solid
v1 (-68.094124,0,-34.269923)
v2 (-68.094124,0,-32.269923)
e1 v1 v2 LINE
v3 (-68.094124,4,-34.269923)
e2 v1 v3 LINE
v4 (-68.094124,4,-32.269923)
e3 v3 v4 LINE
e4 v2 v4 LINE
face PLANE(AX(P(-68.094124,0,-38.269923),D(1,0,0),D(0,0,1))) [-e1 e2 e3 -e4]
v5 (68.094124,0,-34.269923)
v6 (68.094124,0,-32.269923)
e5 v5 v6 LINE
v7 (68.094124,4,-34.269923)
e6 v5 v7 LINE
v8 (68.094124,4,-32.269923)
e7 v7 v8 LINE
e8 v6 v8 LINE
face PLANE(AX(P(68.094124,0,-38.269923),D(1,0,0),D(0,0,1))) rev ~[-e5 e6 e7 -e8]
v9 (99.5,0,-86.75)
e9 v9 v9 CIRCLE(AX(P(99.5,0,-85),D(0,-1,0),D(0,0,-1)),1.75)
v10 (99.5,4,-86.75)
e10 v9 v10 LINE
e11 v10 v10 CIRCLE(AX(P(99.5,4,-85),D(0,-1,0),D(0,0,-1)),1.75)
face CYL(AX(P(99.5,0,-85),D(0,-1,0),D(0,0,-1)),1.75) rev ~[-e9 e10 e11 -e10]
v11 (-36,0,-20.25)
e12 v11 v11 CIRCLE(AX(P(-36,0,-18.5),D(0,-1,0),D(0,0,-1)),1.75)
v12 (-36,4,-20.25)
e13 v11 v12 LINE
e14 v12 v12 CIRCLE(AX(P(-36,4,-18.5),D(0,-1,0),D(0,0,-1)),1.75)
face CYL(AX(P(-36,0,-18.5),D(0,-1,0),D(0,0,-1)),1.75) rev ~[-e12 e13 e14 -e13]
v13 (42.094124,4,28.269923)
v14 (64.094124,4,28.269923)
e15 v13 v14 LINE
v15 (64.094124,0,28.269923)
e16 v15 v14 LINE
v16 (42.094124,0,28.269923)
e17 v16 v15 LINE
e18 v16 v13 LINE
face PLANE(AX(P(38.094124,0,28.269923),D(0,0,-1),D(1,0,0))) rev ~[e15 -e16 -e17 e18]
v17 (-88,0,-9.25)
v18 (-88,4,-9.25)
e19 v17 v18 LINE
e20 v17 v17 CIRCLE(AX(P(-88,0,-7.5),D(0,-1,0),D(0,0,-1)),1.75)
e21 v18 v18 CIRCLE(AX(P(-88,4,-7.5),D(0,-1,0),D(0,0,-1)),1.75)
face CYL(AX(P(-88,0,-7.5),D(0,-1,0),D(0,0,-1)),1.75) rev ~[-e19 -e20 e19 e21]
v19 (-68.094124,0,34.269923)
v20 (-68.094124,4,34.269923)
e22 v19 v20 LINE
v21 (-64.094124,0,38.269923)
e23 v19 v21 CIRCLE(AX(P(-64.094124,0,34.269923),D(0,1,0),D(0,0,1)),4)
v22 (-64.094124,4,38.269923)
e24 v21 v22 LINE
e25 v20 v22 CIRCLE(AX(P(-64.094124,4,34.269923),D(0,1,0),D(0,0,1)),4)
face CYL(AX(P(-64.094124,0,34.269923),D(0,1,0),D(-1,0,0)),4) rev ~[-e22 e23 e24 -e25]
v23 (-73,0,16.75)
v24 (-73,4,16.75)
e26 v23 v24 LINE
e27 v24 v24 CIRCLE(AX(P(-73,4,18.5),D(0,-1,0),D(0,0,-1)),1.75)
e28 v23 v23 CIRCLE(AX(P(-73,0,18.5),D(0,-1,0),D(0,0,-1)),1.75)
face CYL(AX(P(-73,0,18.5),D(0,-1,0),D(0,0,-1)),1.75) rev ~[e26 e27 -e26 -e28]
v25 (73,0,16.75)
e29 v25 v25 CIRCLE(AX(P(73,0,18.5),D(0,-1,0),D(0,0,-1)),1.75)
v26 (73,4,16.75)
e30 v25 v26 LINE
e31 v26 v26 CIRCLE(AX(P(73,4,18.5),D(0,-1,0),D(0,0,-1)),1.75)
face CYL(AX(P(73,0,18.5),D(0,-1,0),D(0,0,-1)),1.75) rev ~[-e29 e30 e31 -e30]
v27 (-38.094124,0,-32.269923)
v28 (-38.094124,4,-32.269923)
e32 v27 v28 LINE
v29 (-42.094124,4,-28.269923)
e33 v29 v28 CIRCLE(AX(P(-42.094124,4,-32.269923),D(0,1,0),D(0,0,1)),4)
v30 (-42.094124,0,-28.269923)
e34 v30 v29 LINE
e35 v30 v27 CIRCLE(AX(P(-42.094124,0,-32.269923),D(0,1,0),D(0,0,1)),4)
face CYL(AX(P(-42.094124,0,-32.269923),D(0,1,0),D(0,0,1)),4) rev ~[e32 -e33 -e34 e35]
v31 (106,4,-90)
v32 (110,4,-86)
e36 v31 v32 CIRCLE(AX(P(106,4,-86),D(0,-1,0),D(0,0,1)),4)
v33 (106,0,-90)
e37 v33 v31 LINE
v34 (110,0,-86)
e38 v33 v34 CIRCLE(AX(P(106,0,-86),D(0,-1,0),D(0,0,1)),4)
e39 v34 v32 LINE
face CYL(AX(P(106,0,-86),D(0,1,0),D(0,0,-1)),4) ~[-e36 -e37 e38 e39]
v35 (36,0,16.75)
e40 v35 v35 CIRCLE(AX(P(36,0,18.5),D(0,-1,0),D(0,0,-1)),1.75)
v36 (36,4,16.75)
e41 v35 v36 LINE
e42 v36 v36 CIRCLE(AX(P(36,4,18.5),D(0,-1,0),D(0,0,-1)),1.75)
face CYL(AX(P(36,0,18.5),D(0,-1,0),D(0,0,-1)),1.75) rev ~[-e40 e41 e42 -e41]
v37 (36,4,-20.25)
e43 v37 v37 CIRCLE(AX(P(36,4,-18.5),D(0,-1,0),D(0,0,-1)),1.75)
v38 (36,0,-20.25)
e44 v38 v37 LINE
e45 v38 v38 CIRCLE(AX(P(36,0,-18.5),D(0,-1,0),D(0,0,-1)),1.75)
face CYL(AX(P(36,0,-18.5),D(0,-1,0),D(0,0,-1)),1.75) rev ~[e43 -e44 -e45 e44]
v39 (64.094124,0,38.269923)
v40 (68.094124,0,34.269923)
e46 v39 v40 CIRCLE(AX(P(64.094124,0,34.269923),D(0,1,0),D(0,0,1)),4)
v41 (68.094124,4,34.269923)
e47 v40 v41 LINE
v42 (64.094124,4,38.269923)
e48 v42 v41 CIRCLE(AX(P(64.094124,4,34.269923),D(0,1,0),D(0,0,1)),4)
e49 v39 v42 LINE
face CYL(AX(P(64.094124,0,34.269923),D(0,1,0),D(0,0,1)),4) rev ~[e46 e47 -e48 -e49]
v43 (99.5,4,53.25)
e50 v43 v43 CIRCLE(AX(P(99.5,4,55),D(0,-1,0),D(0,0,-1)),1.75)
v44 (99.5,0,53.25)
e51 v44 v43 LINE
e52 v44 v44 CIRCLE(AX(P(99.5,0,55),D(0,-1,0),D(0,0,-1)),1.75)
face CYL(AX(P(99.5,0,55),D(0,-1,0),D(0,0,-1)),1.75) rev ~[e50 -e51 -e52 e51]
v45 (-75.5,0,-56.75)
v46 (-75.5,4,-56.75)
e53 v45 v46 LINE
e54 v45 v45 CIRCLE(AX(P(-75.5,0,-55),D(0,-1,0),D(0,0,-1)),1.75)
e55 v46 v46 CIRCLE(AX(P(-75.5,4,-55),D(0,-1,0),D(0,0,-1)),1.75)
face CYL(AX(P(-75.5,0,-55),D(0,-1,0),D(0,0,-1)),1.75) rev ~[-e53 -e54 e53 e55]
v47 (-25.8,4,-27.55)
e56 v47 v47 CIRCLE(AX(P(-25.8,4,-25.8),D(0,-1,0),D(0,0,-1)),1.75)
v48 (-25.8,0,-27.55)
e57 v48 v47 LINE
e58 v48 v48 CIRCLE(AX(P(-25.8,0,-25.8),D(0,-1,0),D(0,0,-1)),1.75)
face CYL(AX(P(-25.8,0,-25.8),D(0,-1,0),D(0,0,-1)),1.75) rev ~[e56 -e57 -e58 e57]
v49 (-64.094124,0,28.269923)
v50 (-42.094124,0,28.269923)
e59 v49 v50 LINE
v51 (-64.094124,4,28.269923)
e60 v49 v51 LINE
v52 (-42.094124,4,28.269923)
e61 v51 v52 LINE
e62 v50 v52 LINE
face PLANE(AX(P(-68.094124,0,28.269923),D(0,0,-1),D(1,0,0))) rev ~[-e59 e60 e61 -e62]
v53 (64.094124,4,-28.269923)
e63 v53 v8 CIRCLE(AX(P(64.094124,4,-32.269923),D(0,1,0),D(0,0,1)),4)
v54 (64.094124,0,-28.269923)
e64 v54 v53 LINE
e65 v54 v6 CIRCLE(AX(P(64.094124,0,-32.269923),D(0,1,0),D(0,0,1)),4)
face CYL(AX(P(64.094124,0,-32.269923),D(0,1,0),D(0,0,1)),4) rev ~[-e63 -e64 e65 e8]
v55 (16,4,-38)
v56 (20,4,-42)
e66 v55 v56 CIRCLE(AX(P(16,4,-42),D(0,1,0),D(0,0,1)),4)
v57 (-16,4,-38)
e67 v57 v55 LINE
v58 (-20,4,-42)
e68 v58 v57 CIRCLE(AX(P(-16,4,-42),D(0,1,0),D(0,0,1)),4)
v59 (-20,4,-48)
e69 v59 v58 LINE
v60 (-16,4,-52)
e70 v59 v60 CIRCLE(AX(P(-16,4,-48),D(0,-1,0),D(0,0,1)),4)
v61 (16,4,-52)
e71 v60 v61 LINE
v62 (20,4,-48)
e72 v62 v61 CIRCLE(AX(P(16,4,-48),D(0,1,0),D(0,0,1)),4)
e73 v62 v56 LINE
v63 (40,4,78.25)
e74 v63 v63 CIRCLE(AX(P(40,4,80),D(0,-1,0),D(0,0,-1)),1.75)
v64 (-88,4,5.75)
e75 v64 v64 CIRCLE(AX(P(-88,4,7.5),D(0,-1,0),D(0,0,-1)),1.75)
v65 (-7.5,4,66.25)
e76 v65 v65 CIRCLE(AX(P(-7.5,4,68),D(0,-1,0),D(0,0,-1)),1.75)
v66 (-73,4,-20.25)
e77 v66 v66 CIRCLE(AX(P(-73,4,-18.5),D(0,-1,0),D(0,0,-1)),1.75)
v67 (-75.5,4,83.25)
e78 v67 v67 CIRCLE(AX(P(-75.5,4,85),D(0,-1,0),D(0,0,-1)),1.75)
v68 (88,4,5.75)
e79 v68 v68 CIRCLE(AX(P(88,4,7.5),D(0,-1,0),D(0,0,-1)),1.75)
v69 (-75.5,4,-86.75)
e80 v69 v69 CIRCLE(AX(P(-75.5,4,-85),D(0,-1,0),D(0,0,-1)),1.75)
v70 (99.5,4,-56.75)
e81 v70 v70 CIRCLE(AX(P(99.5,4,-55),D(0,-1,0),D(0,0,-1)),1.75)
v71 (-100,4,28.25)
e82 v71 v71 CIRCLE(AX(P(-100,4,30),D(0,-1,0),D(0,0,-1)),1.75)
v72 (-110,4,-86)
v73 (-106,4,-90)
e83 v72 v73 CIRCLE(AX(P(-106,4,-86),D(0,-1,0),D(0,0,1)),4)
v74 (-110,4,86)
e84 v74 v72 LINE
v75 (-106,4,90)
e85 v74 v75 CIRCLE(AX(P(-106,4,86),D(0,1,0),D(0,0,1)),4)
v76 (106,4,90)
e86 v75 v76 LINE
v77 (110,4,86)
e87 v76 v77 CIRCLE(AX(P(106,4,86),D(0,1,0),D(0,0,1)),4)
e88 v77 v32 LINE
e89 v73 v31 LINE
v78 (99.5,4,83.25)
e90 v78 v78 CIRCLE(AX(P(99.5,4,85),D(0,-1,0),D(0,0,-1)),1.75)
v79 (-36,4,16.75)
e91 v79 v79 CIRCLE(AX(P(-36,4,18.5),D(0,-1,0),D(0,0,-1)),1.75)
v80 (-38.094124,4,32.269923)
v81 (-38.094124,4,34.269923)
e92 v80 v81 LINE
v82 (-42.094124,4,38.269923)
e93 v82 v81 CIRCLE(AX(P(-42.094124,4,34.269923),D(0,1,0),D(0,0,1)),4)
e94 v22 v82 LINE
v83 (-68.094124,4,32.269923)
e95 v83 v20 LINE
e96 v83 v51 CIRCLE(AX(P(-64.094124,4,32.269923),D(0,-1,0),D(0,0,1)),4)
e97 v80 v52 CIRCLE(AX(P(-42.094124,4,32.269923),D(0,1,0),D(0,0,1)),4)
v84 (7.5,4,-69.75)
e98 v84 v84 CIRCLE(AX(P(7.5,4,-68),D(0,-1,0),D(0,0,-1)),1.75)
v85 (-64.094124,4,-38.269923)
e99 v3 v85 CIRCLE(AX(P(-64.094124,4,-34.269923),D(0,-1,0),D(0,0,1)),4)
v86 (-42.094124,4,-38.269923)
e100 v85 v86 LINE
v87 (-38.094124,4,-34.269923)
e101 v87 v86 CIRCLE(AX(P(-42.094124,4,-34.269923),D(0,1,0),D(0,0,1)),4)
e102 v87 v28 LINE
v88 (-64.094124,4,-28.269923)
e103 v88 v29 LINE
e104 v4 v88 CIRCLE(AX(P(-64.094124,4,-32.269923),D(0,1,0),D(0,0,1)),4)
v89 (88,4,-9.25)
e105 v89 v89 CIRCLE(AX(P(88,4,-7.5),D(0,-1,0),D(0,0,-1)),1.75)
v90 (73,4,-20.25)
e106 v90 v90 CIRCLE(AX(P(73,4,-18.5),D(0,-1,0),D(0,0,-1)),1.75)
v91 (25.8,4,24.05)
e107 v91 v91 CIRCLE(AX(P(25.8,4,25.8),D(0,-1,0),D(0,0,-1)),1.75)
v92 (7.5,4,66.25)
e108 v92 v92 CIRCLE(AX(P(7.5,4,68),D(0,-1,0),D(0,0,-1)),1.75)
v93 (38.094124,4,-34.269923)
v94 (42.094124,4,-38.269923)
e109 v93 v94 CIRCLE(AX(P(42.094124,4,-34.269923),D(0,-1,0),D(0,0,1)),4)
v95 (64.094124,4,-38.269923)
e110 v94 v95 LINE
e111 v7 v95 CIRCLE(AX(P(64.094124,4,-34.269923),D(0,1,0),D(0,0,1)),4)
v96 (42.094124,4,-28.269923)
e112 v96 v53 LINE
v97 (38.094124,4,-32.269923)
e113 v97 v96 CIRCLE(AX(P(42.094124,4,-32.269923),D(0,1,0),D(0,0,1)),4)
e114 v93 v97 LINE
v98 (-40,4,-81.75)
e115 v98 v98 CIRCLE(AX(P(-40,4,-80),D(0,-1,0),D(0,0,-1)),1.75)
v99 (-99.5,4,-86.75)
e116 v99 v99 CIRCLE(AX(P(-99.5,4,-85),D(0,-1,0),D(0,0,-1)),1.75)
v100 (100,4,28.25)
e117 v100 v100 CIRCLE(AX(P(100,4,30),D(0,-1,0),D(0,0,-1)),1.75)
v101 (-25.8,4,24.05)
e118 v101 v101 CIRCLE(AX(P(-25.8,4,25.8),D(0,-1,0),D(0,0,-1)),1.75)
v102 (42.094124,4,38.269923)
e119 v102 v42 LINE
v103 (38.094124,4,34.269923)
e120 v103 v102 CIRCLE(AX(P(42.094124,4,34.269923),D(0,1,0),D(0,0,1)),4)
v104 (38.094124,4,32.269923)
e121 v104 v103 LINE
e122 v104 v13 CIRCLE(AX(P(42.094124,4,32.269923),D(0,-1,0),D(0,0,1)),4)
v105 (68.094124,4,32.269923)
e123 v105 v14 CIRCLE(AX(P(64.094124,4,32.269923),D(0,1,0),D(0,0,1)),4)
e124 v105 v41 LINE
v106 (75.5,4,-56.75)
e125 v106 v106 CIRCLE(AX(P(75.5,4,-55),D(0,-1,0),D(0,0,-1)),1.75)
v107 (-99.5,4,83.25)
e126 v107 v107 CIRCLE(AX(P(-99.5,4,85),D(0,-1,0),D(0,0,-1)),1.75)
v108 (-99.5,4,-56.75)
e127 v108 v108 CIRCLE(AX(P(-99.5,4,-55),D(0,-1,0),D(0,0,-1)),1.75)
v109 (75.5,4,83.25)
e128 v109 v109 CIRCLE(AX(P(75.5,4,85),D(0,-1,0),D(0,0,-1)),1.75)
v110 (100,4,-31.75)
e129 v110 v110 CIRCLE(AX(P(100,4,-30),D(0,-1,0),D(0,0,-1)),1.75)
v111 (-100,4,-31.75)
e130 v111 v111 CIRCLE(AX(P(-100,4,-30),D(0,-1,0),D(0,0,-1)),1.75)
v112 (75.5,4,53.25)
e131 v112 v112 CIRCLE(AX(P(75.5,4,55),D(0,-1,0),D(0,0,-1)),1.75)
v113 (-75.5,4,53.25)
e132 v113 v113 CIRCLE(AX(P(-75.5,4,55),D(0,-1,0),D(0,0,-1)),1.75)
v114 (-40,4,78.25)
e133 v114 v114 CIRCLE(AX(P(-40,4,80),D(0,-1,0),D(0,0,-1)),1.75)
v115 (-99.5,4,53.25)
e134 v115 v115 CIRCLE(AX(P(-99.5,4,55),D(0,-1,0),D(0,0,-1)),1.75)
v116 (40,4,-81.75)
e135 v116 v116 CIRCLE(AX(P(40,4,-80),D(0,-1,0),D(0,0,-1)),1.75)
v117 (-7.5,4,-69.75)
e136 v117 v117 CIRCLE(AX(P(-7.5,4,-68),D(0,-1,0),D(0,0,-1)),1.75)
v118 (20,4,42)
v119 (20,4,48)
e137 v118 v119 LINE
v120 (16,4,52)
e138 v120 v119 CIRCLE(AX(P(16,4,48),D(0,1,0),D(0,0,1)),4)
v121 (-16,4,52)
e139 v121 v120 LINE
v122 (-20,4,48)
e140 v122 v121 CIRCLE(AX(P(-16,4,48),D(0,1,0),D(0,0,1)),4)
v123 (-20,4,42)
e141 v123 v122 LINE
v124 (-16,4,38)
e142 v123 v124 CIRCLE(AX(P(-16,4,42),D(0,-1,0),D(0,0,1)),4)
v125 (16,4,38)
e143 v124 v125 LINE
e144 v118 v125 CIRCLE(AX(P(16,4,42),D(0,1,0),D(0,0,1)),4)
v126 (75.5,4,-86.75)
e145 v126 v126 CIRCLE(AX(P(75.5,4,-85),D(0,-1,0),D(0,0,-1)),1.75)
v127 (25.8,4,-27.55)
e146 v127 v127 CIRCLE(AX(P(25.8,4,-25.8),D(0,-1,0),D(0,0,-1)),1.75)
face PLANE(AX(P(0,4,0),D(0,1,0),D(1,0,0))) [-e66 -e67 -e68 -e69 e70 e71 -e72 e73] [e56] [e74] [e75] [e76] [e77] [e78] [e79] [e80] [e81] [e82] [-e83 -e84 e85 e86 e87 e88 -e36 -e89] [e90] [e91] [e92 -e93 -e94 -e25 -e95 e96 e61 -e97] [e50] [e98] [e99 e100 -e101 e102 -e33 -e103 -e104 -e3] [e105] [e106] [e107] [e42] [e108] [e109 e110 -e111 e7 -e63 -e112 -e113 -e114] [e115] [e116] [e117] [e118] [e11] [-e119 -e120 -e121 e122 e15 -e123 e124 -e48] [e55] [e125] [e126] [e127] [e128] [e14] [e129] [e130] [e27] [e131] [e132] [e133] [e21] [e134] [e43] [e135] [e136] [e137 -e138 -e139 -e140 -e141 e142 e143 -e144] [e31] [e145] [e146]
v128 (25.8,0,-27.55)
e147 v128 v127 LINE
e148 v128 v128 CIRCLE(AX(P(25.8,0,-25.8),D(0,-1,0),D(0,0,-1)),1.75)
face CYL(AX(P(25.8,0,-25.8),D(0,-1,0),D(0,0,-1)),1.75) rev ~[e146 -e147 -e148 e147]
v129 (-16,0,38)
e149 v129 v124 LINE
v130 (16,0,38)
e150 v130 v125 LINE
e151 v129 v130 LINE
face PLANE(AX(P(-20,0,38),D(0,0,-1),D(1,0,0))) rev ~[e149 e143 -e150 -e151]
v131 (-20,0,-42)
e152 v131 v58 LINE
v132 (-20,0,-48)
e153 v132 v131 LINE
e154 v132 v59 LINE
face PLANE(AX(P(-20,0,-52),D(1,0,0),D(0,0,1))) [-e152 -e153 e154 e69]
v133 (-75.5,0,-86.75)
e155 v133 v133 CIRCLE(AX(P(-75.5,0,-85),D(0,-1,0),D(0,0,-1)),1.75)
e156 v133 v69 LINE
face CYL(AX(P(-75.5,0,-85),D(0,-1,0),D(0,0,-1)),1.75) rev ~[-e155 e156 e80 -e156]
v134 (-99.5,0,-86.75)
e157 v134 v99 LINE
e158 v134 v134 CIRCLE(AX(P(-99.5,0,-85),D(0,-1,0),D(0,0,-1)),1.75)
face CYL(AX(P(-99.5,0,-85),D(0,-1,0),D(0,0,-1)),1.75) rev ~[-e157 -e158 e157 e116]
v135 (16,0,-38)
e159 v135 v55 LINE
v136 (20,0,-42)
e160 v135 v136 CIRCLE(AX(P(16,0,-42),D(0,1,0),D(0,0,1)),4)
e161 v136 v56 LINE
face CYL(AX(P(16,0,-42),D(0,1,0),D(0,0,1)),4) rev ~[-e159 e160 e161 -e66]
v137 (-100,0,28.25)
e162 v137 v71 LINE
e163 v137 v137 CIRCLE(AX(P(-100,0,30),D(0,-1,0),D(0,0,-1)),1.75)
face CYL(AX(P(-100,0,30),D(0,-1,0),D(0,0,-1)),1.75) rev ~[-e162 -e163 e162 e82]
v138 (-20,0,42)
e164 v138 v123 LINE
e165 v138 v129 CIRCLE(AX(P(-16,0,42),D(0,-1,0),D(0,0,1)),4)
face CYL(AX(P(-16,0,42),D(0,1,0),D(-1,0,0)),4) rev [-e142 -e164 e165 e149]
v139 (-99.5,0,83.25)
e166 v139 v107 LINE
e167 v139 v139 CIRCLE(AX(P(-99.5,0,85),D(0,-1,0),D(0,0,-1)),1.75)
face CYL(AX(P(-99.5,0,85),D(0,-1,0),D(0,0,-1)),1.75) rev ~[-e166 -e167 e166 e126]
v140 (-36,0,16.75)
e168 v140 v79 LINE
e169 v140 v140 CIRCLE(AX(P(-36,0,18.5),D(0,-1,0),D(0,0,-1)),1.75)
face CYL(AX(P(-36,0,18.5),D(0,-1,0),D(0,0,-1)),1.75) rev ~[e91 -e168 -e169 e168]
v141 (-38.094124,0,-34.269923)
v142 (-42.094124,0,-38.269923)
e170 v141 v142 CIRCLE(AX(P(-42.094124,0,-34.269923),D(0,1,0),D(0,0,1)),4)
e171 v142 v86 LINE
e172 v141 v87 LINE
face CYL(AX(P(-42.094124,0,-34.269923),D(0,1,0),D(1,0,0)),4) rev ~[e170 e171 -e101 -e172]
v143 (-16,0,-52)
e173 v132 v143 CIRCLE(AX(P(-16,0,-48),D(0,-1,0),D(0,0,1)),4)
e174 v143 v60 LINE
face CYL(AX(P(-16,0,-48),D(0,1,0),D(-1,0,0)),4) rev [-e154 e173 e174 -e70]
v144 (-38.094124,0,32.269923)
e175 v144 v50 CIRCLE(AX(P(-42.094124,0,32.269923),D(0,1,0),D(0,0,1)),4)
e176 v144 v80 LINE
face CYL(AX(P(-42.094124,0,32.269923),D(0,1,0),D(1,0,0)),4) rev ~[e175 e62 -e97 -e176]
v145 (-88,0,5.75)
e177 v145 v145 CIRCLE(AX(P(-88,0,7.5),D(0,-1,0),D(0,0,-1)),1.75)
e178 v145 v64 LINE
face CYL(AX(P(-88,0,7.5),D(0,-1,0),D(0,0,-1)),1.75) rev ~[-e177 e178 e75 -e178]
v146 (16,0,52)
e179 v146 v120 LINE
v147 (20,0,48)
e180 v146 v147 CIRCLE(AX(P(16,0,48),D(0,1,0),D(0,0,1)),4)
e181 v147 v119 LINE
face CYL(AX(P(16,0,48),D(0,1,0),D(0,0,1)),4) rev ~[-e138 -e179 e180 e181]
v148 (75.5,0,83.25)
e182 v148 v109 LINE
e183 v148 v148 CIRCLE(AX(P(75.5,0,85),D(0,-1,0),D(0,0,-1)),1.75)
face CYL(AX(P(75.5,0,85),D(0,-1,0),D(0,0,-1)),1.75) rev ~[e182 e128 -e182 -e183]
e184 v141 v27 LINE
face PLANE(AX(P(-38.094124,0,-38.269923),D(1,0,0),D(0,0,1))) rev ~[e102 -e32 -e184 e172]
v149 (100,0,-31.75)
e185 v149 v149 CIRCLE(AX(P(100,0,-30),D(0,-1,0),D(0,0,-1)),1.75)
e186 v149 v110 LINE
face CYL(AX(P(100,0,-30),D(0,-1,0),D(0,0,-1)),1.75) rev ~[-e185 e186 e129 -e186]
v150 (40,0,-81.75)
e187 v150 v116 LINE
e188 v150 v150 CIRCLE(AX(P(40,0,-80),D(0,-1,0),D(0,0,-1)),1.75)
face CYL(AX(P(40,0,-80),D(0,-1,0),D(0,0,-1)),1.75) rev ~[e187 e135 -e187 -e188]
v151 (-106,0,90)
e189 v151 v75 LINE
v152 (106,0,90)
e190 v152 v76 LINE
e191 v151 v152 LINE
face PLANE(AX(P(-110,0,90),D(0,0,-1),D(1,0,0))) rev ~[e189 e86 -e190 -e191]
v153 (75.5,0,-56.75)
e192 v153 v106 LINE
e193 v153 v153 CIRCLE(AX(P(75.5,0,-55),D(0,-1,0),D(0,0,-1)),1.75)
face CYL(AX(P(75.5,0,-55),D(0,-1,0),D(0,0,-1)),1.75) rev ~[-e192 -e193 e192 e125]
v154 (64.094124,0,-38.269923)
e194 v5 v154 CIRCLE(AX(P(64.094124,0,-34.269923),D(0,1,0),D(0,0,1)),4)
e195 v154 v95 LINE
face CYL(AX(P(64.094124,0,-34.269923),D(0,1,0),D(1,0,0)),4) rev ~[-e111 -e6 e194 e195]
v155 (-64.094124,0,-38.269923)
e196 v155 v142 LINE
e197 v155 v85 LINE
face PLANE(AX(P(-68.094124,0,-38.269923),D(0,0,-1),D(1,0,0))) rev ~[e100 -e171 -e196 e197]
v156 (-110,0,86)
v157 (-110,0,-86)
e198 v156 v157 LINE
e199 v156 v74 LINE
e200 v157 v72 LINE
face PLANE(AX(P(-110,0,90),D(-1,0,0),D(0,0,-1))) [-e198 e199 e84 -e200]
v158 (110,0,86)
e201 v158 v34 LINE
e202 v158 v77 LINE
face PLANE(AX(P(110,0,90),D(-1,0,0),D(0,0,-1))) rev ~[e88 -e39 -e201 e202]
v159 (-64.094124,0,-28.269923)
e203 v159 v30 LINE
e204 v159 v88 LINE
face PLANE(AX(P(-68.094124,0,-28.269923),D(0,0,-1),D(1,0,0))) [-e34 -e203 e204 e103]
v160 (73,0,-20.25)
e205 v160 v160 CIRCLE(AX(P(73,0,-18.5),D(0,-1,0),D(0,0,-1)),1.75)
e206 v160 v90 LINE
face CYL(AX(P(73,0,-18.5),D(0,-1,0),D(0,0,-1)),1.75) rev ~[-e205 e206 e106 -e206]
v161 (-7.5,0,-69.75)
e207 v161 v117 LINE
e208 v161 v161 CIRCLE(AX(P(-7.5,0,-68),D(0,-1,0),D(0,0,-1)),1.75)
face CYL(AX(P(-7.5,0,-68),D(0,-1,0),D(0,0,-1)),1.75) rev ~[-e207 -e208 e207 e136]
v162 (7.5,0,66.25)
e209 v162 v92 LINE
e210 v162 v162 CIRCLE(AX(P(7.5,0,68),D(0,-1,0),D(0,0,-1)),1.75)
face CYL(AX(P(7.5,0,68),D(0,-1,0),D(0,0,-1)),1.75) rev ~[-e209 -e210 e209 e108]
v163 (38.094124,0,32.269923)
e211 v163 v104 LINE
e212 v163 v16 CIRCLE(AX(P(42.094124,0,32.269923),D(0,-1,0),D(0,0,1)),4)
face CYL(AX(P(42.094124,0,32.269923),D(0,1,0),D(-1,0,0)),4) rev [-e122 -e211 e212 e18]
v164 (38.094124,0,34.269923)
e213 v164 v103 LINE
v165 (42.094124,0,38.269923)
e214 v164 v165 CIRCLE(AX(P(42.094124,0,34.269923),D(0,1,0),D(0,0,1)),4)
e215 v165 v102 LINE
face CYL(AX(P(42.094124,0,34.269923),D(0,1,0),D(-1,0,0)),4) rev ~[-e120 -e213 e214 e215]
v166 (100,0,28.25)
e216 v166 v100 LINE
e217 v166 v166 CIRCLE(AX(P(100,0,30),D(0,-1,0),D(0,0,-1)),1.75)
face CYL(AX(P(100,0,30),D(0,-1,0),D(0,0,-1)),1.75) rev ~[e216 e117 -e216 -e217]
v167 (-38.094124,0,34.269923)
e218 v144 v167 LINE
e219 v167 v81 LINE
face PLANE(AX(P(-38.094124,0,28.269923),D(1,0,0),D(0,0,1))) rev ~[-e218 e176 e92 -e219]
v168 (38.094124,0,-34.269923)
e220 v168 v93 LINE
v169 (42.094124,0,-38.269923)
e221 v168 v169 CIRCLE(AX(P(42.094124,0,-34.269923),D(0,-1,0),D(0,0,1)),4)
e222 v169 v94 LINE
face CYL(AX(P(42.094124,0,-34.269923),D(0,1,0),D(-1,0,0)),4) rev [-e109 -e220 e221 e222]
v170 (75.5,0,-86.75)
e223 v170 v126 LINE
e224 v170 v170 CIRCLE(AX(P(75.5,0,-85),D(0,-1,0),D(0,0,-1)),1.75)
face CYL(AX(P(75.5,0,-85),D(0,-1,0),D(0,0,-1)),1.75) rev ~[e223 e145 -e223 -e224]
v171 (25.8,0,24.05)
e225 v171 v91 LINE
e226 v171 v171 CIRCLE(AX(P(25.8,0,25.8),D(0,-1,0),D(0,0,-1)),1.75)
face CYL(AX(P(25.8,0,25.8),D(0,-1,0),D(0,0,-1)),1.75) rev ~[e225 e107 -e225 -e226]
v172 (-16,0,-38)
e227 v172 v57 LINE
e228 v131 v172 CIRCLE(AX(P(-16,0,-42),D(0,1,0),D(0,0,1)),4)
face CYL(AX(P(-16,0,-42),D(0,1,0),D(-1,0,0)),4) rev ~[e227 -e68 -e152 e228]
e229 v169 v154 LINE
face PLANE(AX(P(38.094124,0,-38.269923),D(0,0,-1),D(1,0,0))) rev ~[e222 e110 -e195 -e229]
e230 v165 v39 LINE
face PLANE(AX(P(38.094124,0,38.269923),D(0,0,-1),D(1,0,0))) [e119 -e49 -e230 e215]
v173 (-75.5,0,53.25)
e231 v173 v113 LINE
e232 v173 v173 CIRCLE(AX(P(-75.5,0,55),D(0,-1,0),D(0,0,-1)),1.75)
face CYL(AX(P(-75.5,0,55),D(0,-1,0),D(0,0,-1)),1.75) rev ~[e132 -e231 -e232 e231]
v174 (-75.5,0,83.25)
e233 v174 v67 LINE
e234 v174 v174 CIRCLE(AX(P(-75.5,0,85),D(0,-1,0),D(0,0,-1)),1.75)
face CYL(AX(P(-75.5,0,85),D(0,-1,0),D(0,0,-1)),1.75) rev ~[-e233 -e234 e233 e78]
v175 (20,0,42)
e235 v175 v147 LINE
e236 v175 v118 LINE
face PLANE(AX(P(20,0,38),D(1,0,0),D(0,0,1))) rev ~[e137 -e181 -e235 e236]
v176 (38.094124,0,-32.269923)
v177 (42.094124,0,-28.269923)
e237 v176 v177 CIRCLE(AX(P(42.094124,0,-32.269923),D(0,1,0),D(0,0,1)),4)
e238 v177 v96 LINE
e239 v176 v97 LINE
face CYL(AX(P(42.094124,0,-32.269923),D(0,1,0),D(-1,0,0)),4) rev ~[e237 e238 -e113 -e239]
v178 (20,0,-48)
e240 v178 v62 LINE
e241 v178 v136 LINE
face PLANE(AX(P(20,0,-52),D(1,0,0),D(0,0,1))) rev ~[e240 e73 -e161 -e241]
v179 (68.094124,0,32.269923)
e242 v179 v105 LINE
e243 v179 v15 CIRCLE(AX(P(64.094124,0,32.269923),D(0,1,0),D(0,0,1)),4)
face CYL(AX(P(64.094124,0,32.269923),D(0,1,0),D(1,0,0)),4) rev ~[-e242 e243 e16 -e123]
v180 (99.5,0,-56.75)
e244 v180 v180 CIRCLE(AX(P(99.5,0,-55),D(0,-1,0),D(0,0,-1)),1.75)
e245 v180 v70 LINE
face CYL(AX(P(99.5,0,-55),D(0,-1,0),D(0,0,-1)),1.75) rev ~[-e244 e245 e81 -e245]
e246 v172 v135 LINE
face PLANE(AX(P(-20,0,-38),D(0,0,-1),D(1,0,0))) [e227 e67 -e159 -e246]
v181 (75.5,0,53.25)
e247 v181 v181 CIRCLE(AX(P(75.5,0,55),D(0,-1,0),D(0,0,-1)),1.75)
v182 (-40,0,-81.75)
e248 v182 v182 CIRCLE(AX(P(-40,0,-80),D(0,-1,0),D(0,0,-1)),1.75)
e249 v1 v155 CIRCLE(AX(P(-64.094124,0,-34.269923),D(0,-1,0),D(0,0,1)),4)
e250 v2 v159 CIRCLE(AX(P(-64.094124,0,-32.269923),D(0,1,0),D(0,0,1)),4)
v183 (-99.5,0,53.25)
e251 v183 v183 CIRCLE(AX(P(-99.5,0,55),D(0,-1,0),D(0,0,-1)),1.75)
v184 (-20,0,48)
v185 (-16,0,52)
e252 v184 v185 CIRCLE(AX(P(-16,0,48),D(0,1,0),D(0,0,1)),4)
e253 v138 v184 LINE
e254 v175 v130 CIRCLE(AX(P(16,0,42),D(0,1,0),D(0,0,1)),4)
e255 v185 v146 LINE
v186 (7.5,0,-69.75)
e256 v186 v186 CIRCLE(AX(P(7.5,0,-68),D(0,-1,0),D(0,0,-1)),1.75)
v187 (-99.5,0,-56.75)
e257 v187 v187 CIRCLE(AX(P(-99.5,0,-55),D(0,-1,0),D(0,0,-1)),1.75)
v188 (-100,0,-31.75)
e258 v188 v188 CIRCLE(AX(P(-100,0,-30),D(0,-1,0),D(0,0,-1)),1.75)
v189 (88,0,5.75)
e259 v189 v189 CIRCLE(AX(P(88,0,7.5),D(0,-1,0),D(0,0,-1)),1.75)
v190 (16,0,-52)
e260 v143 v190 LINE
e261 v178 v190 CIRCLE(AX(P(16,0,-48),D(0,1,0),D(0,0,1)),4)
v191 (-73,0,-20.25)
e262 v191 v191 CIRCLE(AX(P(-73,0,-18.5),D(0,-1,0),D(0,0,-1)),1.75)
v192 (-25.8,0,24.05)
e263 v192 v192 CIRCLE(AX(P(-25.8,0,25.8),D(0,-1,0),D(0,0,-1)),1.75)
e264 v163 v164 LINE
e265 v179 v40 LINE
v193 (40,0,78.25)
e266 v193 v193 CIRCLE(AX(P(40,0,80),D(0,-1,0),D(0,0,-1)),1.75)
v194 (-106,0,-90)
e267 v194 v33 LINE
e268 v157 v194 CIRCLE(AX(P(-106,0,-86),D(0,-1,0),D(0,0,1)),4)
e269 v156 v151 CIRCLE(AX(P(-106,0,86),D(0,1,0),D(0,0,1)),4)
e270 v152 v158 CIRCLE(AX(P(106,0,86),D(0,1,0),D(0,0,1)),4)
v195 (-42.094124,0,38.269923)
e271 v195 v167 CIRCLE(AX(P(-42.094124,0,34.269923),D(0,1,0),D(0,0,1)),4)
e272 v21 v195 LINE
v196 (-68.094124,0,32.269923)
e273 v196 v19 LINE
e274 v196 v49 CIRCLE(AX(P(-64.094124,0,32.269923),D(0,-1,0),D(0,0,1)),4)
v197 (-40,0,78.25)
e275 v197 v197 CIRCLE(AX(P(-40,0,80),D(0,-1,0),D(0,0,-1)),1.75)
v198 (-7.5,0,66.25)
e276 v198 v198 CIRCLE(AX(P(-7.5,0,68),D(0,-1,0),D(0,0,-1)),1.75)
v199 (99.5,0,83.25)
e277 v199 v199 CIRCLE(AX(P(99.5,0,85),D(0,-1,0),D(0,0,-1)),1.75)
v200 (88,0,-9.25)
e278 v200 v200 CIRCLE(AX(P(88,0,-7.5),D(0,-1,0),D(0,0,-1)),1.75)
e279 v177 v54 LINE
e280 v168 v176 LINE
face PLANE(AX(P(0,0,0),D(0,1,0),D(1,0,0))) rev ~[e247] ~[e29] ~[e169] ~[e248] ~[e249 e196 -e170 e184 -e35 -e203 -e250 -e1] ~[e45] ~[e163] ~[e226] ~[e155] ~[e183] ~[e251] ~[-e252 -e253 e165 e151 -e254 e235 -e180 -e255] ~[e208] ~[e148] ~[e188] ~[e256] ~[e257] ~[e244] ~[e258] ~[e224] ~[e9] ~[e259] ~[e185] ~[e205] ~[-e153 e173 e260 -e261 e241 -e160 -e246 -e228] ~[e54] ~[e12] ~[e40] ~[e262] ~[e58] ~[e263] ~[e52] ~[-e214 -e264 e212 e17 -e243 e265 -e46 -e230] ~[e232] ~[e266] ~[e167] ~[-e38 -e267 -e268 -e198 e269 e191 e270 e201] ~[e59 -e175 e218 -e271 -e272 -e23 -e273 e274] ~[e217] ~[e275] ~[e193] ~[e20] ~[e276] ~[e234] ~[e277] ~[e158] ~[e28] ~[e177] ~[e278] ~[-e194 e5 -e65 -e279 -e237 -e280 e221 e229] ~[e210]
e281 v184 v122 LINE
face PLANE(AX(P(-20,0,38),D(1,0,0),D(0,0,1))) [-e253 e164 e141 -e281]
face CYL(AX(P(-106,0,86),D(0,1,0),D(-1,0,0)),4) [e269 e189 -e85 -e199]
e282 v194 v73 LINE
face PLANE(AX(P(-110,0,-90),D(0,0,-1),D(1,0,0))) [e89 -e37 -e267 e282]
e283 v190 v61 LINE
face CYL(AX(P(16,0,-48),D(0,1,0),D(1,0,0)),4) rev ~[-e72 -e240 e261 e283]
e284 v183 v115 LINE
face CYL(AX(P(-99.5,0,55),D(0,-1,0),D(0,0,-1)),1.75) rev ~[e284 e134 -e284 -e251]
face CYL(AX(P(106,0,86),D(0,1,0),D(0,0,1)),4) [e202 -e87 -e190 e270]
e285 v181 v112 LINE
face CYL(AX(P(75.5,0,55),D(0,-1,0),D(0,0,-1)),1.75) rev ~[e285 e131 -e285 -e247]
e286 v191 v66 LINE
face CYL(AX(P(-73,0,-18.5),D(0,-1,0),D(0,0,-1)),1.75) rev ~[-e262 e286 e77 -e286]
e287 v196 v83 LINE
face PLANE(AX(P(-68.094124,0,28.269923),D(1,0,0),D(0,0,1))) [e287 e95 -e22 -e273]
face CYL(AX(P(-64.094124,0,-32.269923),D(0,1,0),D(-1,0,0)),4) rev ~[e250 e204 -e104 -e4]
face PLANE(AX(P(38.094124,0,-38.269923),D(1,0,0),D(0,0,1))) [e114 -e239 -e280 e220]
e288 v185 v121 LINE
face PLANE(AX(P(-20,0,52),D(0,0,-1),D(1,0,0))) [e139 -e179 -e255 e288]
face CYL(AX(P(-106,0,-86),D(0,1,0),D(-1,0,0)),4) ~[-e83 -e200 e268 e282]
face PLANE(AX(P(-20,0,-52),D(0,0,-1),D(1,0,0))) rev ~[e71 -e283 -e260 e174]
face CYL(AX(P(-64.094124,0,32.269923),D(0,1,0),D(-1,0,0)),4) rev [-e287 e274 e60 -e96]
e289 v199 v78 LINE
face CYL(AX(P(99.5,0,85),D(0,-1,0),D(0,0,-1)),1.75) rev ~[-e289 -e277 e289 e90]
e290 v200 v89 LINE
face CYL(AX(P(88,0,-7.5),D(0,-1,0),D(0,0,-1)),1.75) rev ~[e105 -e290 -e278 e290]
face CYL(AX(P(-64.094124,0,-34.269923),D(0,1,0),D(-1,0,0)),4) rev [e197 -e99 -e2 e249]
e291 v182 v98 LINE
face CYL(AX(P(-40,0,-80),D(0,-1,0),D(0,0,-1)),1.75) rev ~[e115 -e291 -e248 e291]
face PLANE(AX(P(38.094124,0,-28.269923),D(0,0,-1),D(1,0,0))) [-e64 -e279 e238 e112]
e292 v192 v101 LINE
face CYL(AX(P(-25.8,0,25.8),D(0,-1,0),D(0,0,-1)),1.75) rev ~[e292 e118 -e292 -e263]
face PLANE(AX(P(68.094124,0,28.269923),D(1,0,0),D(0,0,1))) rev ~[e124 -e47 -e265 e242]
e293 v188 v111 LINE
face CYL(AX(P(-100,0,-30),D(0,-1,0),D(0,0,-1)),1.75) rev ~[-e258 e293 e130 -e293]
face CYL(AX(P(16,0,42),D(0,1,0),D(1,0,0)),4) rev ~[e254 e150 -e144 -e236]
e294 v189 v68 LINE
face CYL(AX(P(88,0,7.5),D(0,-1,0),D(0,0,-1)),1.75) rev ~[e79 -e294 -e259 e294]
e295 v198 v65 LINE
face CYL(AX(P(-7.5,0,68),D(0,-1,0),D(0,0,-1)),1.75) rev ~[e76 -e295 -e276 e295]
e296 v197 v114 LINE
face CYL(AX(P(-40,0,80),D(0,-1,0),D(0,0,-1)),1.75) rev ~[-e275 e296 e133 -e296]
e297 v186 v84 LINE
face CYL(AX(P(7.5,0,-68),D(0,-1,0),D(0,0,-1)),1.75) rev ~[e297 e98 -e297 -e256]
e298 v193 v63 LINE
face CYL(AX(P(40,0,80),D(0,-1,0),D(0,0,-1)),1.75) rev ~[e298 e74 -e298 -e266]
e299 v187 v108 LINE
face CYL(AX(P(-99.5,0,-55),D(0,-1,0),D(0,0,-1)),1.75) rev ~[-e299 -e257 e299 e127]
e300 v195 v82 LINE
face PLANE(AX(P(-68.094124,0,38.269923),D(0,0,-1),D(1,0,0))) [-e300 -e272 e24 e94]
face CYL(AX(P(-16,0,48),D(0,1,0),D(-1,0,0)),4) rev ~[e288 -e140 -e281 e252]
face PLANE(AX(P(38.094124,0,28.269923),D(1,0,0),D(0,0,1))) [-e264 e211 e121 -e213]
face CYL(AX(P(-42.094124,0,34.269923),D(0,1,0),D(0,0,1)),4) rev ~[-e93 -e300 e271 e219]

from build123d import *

# Parameters (mm, degrees)
SKETCH_1_W          = 220
SKETCH_1_H          = 180
EXTRUDE_1_DEPTH     = 4
SKETCH_3_R          = 1.75
CUT_EXTRUDE_2_DEPTH = 4
SKETCH_4_R          = 1.75
CUT_EXTRUDE_3_DEPTH = 4
SKETCH_5_R          = 1.75
CUT_EXTRUDE_4_DEPTH = 4
FILLET_1_R          = 4
SKETCH_6_W          = 40
SKETCH_6_H          = 14
SKETCH_6_W_2        = 30
SKETCH_6_H_2        = 10
CUT_EXTRUDE_5_DEPTH = 4
FILLET_2_R          = 4


with BuildPart() as part:
    # 草图1 → 凸台-拉伸1 (new body)
    with BuildSketch(Plane(origin=(0, 0, 0), x_dir=(1, 0, 0), z_dir=(0, 1, 0))):
        Rectangle(SKETCH_1_W, SKETCH_1_H)
    extrude(amount=EXTRUDE_1_DEPTH)

    # 草图3 → 切除-拉伸2 (cut)
    with BuildSketch(Plane.XZ):
        with Locations(Location((-99.5, -55, 0), (0, 0, 270))):
            Circle(SKETCH_3_R)
        with Locations(Location((-75.5, -55, 0), (0, 0, 270))):
            Circle(SKETCH_3_R)
        with Locations(Location((-99.5, -85, 0), (0, 0, 270))):
            Circle(SKETCH_3_R)
        with Locations(Location((-75.5, -85, 0), (0, 0, 270))):
            Circle(SKETCH_3_R)
        with Locations(Location((75.5, -55, 0), (0, 0, 270))):
            Circle(SKETCH_3_R)
        with Locations(Location((99.5, -55, 0), (0, 0, 270))):
            Circle(SKETCH_3_R)
        with Locations(Location((75.5, -85, 0), (0, 0, 270))):
            Circle(SKETCH_3_R)
        with Locations(Location((99.5, -85, 0), (0, 0, 270))):
            Circle(SKETCH_3_R)
        with Locations(Location((-99.5, 85, 0), (0, 0, 270))):
            Circle(SKETCH_3_R)
        with Locations(Location((-75.5, 85, 0), (0, 0, 270))):
            Circle(SKETCH_3_R)
        with Locations(Location((-99.5, 55, 0), (0, 0, 270))):
            Circle(SKETCH_3_R)
        with Locations(Location((-75.5, 55, 0), (0, 0, 270))):
            Circle(SKETCH_3_R)
        with Locations(Location((75.5, 85, 0), (0, 0, 270))):
            Circle(SKETCH_3_R)
        with Locations(Location((99.5, 85, 0), (0, 0, 270))):
            Circle(SKETCH_3_R)
        with Locations(Location((75.5, 55, 0), (0, 0, 270))):
            Circle(SKETCH_3_R)
        with Locations(Location((99.5, 55, 0), (0, 0, 270))):
            Circle(SKETCH_3_R)
        with Locations(Location((-88, 7.5, 0), (0, 0, 270))):
            Circle(SKETCH_3_R)
        with Locations(Location((-88, -7.5, 0), (0, 0, 270))):
            Circle(SKETCH_3_R)
        with Locations(Location((-7.5, -68, 0), (0, 0, 270))):
            Circle(SKETCH_3_R)
        with Locations(Location((7.5, -68, 0), (0, 0, 270))):
            Circle(SKETCH_3_R)
        with Locations(Location((88, -7.5, 0), (0, 0, 270))):
            Circle(SKETCH_3_R)
        with Locations(Location((88, 7.5, 0), (0, 0, 270))):
            Circle(SKETCH_3_R)
        with Locations(Location((-7.5, 68, 0), (0, 0, 270))):
            Circle(SKETCH_3_R)
        with Locations(Location((7.5, 68, 0), (0, 0, 270))):
            Circle(SKETCH_3_R)
    extrude(amount=-CUT_EXTRUDE_2_DEPTH, mode=Mode.SUBTRACT)

    # 草图4 → 切除-拉伸3 (cut)
    with BuildSketch(Plane.XZ):
        with Locations(Location((-73, 18.5, 0), (0, 0, 270))):
            Circle(SKETCH_4_R)
        with Locations(Location((-36, 18.5, 0), (0, 0, 270))):
            Circle(SKETCH_4_R)
        with Locations(Location((-73, -18.5, 0), (0, 0, 270))):
            Circle(SKETCH_4_R)
        with Locations(Location((-36, -18.5, 0), (0, 0, 270))):
            Circle(SKETCH_4_R)
        with Locations(Location((36, 18.5, 0), (0, 0, 270))):
            Circle(SKETCH_4_R)
        with Locations(Location((73, 18.5, 0), (0, 0, 270))):
            Circle(SKETCH_4_R)
        with Locations(Location((36, -18.5, 0), (0, 0, 270))):
            Circle(SKETCH_4_R)
        with Locations(Location((73, -18.5, 0), (0, 0, 270))):
            Circle(SKETCH_4_R)
        with Locations(Location((-25.8, 25.8, 0), (0, 0, 270))):
            Circle(SKETCH_4_R)
        with Locations(Location((25.8, 25.8, 0), (0, 0, 270))):
            Circle(SKETCH_4_R)
        with Locations(Location((-25.8, -25.8, 0), (0, 0, 270))):
            Circle(SKETCH_4_R)
        with Locations(Location((25.8, -25.8, 0), (0, 0, 270))):
            Circle(SKETCH_4_R)
    extrude(amount=-CUT_EXTRUDE_3_DEPTH, mode=Mode.SUBTRACT)

    # 草图5 → 切除-拉伸4 (cut)
    with BuildSketch(Plane.XZ):
        with Locations(Location((-40, 80, 0), (0, 0, 270))):
            Circle(SKETCH_5_R)
        with Locations(Location((40, 80, 0), (0, 0, 270))):
            Circle(SKETCH_5_R)
        with Locations(Location((100, 30, 0), (0, 0, 270))):
            Circle(SKETCH_5_R)
        with Locations(Location((100, -30, 0), (0, 0, 270))):
            Circle(SKETCH_5_R)
        with Locations(Location((40, -80, 0), (0, 0, 270))):
            Circle(SKETCH_5_R)
        with Locations(Location((-40, -80, 0), (0, 0, 270))):
            Circle(SKETCH_5_R)
        with Locations(Location((-100, -30, 0), (0, 0, 270))):
            Circle(SKETCH_5_R)
        with Locations(Location((-100, 30, 0), (0, 0, 270))):
            Circle(SKETCH_5_R)
    extrude(amount=-CUT_EXTRUDE_4_DEPTH, mode=Mode.SUBTRACT)

    # 圆角1
    fillet_1_edges = [part.edges().sort_by_distance(p)[0] for p in [
        (-110, 2, -90),
        (110, 2, -90),
        (110, 2, 90),
        (-110, 2, 90),
    ]]
    fillet(fillet_1_edges, radius=FILLET_1_R)

    # 草图6 → 切除-拉伸5 (cut)
    with BuildSketch(Plane.XZ):
        with Locations((0, 45)):
            Rectangle(SKETCH_6_W, SKETCH_6_H)
        with Locations((-53.094123813, 33.26992324)):
            Rectangle(SKETCH_6_W_2, SKETCH_6_H_2)
        with Locations((53.094123813, 33.26992324)):
            Rectangle(SKETCH_6_W_2, SKETCH_6_H_2)
        with Locations((53.094123813, -33.26992324)):
            Rectangle(SKETCH_6_W_2, SKETCH_6_H_2)
        with Locations((-53.094123813, -33.26992324)):
            Rectangle(SKETCH_6_W_2, SKETCH_6_H_2)
        with Locations((0, -45)):
            Rectangle(SKETCH_6_W, SKETCH_6_H)
    extrude(amount=-CUT_EXTRUDE_5_DEPTH, mode=Mode.SUBTRACT)

    # 圆角2
    fillet_2_edges = [part.edges().sort_by_distance(p)[0] for p in [
        (-38.094123813, 2, 38.26992324),
        (-38.094123813, 2, 28.26992324),
        (-68.094123813, 2, 28.26992324),
        (-68.094123813, 2, 38.26992324),
        (68.094123813, 2, 38.26992324),
        (68.094123813, 2, 28.26992324),
        (38.094123813, 2, 28.26992324),
        (38.094123813, 2, 38.26992324),
        (68.094123813, 2, -28.26992324),
        (68.094123813, 2, -38.26992324),
        (38.094123813, 2, -38.26992324),
        (38.094123813, 2, -28.26992324),
        (-68.094123813, 2, -38.26992324),
        (-68.094123813, 2, -28.26992324),
        (-38.094123813, 2, -28.26992324),
        (-38.094123813, 2, -38.26992324),
        (-20, 2, -52),
        (-20, 2, -38),
        (20, 2, -38),
        (20, 2, -52),
        (20, 2, 52),
        (20, 2, 38),
        (-20, 2, 38),
        (-20, 2, 52),
    ]]
    fillet(fillet_2_edges, radius=FILLET_2_R)


solid = part.part
